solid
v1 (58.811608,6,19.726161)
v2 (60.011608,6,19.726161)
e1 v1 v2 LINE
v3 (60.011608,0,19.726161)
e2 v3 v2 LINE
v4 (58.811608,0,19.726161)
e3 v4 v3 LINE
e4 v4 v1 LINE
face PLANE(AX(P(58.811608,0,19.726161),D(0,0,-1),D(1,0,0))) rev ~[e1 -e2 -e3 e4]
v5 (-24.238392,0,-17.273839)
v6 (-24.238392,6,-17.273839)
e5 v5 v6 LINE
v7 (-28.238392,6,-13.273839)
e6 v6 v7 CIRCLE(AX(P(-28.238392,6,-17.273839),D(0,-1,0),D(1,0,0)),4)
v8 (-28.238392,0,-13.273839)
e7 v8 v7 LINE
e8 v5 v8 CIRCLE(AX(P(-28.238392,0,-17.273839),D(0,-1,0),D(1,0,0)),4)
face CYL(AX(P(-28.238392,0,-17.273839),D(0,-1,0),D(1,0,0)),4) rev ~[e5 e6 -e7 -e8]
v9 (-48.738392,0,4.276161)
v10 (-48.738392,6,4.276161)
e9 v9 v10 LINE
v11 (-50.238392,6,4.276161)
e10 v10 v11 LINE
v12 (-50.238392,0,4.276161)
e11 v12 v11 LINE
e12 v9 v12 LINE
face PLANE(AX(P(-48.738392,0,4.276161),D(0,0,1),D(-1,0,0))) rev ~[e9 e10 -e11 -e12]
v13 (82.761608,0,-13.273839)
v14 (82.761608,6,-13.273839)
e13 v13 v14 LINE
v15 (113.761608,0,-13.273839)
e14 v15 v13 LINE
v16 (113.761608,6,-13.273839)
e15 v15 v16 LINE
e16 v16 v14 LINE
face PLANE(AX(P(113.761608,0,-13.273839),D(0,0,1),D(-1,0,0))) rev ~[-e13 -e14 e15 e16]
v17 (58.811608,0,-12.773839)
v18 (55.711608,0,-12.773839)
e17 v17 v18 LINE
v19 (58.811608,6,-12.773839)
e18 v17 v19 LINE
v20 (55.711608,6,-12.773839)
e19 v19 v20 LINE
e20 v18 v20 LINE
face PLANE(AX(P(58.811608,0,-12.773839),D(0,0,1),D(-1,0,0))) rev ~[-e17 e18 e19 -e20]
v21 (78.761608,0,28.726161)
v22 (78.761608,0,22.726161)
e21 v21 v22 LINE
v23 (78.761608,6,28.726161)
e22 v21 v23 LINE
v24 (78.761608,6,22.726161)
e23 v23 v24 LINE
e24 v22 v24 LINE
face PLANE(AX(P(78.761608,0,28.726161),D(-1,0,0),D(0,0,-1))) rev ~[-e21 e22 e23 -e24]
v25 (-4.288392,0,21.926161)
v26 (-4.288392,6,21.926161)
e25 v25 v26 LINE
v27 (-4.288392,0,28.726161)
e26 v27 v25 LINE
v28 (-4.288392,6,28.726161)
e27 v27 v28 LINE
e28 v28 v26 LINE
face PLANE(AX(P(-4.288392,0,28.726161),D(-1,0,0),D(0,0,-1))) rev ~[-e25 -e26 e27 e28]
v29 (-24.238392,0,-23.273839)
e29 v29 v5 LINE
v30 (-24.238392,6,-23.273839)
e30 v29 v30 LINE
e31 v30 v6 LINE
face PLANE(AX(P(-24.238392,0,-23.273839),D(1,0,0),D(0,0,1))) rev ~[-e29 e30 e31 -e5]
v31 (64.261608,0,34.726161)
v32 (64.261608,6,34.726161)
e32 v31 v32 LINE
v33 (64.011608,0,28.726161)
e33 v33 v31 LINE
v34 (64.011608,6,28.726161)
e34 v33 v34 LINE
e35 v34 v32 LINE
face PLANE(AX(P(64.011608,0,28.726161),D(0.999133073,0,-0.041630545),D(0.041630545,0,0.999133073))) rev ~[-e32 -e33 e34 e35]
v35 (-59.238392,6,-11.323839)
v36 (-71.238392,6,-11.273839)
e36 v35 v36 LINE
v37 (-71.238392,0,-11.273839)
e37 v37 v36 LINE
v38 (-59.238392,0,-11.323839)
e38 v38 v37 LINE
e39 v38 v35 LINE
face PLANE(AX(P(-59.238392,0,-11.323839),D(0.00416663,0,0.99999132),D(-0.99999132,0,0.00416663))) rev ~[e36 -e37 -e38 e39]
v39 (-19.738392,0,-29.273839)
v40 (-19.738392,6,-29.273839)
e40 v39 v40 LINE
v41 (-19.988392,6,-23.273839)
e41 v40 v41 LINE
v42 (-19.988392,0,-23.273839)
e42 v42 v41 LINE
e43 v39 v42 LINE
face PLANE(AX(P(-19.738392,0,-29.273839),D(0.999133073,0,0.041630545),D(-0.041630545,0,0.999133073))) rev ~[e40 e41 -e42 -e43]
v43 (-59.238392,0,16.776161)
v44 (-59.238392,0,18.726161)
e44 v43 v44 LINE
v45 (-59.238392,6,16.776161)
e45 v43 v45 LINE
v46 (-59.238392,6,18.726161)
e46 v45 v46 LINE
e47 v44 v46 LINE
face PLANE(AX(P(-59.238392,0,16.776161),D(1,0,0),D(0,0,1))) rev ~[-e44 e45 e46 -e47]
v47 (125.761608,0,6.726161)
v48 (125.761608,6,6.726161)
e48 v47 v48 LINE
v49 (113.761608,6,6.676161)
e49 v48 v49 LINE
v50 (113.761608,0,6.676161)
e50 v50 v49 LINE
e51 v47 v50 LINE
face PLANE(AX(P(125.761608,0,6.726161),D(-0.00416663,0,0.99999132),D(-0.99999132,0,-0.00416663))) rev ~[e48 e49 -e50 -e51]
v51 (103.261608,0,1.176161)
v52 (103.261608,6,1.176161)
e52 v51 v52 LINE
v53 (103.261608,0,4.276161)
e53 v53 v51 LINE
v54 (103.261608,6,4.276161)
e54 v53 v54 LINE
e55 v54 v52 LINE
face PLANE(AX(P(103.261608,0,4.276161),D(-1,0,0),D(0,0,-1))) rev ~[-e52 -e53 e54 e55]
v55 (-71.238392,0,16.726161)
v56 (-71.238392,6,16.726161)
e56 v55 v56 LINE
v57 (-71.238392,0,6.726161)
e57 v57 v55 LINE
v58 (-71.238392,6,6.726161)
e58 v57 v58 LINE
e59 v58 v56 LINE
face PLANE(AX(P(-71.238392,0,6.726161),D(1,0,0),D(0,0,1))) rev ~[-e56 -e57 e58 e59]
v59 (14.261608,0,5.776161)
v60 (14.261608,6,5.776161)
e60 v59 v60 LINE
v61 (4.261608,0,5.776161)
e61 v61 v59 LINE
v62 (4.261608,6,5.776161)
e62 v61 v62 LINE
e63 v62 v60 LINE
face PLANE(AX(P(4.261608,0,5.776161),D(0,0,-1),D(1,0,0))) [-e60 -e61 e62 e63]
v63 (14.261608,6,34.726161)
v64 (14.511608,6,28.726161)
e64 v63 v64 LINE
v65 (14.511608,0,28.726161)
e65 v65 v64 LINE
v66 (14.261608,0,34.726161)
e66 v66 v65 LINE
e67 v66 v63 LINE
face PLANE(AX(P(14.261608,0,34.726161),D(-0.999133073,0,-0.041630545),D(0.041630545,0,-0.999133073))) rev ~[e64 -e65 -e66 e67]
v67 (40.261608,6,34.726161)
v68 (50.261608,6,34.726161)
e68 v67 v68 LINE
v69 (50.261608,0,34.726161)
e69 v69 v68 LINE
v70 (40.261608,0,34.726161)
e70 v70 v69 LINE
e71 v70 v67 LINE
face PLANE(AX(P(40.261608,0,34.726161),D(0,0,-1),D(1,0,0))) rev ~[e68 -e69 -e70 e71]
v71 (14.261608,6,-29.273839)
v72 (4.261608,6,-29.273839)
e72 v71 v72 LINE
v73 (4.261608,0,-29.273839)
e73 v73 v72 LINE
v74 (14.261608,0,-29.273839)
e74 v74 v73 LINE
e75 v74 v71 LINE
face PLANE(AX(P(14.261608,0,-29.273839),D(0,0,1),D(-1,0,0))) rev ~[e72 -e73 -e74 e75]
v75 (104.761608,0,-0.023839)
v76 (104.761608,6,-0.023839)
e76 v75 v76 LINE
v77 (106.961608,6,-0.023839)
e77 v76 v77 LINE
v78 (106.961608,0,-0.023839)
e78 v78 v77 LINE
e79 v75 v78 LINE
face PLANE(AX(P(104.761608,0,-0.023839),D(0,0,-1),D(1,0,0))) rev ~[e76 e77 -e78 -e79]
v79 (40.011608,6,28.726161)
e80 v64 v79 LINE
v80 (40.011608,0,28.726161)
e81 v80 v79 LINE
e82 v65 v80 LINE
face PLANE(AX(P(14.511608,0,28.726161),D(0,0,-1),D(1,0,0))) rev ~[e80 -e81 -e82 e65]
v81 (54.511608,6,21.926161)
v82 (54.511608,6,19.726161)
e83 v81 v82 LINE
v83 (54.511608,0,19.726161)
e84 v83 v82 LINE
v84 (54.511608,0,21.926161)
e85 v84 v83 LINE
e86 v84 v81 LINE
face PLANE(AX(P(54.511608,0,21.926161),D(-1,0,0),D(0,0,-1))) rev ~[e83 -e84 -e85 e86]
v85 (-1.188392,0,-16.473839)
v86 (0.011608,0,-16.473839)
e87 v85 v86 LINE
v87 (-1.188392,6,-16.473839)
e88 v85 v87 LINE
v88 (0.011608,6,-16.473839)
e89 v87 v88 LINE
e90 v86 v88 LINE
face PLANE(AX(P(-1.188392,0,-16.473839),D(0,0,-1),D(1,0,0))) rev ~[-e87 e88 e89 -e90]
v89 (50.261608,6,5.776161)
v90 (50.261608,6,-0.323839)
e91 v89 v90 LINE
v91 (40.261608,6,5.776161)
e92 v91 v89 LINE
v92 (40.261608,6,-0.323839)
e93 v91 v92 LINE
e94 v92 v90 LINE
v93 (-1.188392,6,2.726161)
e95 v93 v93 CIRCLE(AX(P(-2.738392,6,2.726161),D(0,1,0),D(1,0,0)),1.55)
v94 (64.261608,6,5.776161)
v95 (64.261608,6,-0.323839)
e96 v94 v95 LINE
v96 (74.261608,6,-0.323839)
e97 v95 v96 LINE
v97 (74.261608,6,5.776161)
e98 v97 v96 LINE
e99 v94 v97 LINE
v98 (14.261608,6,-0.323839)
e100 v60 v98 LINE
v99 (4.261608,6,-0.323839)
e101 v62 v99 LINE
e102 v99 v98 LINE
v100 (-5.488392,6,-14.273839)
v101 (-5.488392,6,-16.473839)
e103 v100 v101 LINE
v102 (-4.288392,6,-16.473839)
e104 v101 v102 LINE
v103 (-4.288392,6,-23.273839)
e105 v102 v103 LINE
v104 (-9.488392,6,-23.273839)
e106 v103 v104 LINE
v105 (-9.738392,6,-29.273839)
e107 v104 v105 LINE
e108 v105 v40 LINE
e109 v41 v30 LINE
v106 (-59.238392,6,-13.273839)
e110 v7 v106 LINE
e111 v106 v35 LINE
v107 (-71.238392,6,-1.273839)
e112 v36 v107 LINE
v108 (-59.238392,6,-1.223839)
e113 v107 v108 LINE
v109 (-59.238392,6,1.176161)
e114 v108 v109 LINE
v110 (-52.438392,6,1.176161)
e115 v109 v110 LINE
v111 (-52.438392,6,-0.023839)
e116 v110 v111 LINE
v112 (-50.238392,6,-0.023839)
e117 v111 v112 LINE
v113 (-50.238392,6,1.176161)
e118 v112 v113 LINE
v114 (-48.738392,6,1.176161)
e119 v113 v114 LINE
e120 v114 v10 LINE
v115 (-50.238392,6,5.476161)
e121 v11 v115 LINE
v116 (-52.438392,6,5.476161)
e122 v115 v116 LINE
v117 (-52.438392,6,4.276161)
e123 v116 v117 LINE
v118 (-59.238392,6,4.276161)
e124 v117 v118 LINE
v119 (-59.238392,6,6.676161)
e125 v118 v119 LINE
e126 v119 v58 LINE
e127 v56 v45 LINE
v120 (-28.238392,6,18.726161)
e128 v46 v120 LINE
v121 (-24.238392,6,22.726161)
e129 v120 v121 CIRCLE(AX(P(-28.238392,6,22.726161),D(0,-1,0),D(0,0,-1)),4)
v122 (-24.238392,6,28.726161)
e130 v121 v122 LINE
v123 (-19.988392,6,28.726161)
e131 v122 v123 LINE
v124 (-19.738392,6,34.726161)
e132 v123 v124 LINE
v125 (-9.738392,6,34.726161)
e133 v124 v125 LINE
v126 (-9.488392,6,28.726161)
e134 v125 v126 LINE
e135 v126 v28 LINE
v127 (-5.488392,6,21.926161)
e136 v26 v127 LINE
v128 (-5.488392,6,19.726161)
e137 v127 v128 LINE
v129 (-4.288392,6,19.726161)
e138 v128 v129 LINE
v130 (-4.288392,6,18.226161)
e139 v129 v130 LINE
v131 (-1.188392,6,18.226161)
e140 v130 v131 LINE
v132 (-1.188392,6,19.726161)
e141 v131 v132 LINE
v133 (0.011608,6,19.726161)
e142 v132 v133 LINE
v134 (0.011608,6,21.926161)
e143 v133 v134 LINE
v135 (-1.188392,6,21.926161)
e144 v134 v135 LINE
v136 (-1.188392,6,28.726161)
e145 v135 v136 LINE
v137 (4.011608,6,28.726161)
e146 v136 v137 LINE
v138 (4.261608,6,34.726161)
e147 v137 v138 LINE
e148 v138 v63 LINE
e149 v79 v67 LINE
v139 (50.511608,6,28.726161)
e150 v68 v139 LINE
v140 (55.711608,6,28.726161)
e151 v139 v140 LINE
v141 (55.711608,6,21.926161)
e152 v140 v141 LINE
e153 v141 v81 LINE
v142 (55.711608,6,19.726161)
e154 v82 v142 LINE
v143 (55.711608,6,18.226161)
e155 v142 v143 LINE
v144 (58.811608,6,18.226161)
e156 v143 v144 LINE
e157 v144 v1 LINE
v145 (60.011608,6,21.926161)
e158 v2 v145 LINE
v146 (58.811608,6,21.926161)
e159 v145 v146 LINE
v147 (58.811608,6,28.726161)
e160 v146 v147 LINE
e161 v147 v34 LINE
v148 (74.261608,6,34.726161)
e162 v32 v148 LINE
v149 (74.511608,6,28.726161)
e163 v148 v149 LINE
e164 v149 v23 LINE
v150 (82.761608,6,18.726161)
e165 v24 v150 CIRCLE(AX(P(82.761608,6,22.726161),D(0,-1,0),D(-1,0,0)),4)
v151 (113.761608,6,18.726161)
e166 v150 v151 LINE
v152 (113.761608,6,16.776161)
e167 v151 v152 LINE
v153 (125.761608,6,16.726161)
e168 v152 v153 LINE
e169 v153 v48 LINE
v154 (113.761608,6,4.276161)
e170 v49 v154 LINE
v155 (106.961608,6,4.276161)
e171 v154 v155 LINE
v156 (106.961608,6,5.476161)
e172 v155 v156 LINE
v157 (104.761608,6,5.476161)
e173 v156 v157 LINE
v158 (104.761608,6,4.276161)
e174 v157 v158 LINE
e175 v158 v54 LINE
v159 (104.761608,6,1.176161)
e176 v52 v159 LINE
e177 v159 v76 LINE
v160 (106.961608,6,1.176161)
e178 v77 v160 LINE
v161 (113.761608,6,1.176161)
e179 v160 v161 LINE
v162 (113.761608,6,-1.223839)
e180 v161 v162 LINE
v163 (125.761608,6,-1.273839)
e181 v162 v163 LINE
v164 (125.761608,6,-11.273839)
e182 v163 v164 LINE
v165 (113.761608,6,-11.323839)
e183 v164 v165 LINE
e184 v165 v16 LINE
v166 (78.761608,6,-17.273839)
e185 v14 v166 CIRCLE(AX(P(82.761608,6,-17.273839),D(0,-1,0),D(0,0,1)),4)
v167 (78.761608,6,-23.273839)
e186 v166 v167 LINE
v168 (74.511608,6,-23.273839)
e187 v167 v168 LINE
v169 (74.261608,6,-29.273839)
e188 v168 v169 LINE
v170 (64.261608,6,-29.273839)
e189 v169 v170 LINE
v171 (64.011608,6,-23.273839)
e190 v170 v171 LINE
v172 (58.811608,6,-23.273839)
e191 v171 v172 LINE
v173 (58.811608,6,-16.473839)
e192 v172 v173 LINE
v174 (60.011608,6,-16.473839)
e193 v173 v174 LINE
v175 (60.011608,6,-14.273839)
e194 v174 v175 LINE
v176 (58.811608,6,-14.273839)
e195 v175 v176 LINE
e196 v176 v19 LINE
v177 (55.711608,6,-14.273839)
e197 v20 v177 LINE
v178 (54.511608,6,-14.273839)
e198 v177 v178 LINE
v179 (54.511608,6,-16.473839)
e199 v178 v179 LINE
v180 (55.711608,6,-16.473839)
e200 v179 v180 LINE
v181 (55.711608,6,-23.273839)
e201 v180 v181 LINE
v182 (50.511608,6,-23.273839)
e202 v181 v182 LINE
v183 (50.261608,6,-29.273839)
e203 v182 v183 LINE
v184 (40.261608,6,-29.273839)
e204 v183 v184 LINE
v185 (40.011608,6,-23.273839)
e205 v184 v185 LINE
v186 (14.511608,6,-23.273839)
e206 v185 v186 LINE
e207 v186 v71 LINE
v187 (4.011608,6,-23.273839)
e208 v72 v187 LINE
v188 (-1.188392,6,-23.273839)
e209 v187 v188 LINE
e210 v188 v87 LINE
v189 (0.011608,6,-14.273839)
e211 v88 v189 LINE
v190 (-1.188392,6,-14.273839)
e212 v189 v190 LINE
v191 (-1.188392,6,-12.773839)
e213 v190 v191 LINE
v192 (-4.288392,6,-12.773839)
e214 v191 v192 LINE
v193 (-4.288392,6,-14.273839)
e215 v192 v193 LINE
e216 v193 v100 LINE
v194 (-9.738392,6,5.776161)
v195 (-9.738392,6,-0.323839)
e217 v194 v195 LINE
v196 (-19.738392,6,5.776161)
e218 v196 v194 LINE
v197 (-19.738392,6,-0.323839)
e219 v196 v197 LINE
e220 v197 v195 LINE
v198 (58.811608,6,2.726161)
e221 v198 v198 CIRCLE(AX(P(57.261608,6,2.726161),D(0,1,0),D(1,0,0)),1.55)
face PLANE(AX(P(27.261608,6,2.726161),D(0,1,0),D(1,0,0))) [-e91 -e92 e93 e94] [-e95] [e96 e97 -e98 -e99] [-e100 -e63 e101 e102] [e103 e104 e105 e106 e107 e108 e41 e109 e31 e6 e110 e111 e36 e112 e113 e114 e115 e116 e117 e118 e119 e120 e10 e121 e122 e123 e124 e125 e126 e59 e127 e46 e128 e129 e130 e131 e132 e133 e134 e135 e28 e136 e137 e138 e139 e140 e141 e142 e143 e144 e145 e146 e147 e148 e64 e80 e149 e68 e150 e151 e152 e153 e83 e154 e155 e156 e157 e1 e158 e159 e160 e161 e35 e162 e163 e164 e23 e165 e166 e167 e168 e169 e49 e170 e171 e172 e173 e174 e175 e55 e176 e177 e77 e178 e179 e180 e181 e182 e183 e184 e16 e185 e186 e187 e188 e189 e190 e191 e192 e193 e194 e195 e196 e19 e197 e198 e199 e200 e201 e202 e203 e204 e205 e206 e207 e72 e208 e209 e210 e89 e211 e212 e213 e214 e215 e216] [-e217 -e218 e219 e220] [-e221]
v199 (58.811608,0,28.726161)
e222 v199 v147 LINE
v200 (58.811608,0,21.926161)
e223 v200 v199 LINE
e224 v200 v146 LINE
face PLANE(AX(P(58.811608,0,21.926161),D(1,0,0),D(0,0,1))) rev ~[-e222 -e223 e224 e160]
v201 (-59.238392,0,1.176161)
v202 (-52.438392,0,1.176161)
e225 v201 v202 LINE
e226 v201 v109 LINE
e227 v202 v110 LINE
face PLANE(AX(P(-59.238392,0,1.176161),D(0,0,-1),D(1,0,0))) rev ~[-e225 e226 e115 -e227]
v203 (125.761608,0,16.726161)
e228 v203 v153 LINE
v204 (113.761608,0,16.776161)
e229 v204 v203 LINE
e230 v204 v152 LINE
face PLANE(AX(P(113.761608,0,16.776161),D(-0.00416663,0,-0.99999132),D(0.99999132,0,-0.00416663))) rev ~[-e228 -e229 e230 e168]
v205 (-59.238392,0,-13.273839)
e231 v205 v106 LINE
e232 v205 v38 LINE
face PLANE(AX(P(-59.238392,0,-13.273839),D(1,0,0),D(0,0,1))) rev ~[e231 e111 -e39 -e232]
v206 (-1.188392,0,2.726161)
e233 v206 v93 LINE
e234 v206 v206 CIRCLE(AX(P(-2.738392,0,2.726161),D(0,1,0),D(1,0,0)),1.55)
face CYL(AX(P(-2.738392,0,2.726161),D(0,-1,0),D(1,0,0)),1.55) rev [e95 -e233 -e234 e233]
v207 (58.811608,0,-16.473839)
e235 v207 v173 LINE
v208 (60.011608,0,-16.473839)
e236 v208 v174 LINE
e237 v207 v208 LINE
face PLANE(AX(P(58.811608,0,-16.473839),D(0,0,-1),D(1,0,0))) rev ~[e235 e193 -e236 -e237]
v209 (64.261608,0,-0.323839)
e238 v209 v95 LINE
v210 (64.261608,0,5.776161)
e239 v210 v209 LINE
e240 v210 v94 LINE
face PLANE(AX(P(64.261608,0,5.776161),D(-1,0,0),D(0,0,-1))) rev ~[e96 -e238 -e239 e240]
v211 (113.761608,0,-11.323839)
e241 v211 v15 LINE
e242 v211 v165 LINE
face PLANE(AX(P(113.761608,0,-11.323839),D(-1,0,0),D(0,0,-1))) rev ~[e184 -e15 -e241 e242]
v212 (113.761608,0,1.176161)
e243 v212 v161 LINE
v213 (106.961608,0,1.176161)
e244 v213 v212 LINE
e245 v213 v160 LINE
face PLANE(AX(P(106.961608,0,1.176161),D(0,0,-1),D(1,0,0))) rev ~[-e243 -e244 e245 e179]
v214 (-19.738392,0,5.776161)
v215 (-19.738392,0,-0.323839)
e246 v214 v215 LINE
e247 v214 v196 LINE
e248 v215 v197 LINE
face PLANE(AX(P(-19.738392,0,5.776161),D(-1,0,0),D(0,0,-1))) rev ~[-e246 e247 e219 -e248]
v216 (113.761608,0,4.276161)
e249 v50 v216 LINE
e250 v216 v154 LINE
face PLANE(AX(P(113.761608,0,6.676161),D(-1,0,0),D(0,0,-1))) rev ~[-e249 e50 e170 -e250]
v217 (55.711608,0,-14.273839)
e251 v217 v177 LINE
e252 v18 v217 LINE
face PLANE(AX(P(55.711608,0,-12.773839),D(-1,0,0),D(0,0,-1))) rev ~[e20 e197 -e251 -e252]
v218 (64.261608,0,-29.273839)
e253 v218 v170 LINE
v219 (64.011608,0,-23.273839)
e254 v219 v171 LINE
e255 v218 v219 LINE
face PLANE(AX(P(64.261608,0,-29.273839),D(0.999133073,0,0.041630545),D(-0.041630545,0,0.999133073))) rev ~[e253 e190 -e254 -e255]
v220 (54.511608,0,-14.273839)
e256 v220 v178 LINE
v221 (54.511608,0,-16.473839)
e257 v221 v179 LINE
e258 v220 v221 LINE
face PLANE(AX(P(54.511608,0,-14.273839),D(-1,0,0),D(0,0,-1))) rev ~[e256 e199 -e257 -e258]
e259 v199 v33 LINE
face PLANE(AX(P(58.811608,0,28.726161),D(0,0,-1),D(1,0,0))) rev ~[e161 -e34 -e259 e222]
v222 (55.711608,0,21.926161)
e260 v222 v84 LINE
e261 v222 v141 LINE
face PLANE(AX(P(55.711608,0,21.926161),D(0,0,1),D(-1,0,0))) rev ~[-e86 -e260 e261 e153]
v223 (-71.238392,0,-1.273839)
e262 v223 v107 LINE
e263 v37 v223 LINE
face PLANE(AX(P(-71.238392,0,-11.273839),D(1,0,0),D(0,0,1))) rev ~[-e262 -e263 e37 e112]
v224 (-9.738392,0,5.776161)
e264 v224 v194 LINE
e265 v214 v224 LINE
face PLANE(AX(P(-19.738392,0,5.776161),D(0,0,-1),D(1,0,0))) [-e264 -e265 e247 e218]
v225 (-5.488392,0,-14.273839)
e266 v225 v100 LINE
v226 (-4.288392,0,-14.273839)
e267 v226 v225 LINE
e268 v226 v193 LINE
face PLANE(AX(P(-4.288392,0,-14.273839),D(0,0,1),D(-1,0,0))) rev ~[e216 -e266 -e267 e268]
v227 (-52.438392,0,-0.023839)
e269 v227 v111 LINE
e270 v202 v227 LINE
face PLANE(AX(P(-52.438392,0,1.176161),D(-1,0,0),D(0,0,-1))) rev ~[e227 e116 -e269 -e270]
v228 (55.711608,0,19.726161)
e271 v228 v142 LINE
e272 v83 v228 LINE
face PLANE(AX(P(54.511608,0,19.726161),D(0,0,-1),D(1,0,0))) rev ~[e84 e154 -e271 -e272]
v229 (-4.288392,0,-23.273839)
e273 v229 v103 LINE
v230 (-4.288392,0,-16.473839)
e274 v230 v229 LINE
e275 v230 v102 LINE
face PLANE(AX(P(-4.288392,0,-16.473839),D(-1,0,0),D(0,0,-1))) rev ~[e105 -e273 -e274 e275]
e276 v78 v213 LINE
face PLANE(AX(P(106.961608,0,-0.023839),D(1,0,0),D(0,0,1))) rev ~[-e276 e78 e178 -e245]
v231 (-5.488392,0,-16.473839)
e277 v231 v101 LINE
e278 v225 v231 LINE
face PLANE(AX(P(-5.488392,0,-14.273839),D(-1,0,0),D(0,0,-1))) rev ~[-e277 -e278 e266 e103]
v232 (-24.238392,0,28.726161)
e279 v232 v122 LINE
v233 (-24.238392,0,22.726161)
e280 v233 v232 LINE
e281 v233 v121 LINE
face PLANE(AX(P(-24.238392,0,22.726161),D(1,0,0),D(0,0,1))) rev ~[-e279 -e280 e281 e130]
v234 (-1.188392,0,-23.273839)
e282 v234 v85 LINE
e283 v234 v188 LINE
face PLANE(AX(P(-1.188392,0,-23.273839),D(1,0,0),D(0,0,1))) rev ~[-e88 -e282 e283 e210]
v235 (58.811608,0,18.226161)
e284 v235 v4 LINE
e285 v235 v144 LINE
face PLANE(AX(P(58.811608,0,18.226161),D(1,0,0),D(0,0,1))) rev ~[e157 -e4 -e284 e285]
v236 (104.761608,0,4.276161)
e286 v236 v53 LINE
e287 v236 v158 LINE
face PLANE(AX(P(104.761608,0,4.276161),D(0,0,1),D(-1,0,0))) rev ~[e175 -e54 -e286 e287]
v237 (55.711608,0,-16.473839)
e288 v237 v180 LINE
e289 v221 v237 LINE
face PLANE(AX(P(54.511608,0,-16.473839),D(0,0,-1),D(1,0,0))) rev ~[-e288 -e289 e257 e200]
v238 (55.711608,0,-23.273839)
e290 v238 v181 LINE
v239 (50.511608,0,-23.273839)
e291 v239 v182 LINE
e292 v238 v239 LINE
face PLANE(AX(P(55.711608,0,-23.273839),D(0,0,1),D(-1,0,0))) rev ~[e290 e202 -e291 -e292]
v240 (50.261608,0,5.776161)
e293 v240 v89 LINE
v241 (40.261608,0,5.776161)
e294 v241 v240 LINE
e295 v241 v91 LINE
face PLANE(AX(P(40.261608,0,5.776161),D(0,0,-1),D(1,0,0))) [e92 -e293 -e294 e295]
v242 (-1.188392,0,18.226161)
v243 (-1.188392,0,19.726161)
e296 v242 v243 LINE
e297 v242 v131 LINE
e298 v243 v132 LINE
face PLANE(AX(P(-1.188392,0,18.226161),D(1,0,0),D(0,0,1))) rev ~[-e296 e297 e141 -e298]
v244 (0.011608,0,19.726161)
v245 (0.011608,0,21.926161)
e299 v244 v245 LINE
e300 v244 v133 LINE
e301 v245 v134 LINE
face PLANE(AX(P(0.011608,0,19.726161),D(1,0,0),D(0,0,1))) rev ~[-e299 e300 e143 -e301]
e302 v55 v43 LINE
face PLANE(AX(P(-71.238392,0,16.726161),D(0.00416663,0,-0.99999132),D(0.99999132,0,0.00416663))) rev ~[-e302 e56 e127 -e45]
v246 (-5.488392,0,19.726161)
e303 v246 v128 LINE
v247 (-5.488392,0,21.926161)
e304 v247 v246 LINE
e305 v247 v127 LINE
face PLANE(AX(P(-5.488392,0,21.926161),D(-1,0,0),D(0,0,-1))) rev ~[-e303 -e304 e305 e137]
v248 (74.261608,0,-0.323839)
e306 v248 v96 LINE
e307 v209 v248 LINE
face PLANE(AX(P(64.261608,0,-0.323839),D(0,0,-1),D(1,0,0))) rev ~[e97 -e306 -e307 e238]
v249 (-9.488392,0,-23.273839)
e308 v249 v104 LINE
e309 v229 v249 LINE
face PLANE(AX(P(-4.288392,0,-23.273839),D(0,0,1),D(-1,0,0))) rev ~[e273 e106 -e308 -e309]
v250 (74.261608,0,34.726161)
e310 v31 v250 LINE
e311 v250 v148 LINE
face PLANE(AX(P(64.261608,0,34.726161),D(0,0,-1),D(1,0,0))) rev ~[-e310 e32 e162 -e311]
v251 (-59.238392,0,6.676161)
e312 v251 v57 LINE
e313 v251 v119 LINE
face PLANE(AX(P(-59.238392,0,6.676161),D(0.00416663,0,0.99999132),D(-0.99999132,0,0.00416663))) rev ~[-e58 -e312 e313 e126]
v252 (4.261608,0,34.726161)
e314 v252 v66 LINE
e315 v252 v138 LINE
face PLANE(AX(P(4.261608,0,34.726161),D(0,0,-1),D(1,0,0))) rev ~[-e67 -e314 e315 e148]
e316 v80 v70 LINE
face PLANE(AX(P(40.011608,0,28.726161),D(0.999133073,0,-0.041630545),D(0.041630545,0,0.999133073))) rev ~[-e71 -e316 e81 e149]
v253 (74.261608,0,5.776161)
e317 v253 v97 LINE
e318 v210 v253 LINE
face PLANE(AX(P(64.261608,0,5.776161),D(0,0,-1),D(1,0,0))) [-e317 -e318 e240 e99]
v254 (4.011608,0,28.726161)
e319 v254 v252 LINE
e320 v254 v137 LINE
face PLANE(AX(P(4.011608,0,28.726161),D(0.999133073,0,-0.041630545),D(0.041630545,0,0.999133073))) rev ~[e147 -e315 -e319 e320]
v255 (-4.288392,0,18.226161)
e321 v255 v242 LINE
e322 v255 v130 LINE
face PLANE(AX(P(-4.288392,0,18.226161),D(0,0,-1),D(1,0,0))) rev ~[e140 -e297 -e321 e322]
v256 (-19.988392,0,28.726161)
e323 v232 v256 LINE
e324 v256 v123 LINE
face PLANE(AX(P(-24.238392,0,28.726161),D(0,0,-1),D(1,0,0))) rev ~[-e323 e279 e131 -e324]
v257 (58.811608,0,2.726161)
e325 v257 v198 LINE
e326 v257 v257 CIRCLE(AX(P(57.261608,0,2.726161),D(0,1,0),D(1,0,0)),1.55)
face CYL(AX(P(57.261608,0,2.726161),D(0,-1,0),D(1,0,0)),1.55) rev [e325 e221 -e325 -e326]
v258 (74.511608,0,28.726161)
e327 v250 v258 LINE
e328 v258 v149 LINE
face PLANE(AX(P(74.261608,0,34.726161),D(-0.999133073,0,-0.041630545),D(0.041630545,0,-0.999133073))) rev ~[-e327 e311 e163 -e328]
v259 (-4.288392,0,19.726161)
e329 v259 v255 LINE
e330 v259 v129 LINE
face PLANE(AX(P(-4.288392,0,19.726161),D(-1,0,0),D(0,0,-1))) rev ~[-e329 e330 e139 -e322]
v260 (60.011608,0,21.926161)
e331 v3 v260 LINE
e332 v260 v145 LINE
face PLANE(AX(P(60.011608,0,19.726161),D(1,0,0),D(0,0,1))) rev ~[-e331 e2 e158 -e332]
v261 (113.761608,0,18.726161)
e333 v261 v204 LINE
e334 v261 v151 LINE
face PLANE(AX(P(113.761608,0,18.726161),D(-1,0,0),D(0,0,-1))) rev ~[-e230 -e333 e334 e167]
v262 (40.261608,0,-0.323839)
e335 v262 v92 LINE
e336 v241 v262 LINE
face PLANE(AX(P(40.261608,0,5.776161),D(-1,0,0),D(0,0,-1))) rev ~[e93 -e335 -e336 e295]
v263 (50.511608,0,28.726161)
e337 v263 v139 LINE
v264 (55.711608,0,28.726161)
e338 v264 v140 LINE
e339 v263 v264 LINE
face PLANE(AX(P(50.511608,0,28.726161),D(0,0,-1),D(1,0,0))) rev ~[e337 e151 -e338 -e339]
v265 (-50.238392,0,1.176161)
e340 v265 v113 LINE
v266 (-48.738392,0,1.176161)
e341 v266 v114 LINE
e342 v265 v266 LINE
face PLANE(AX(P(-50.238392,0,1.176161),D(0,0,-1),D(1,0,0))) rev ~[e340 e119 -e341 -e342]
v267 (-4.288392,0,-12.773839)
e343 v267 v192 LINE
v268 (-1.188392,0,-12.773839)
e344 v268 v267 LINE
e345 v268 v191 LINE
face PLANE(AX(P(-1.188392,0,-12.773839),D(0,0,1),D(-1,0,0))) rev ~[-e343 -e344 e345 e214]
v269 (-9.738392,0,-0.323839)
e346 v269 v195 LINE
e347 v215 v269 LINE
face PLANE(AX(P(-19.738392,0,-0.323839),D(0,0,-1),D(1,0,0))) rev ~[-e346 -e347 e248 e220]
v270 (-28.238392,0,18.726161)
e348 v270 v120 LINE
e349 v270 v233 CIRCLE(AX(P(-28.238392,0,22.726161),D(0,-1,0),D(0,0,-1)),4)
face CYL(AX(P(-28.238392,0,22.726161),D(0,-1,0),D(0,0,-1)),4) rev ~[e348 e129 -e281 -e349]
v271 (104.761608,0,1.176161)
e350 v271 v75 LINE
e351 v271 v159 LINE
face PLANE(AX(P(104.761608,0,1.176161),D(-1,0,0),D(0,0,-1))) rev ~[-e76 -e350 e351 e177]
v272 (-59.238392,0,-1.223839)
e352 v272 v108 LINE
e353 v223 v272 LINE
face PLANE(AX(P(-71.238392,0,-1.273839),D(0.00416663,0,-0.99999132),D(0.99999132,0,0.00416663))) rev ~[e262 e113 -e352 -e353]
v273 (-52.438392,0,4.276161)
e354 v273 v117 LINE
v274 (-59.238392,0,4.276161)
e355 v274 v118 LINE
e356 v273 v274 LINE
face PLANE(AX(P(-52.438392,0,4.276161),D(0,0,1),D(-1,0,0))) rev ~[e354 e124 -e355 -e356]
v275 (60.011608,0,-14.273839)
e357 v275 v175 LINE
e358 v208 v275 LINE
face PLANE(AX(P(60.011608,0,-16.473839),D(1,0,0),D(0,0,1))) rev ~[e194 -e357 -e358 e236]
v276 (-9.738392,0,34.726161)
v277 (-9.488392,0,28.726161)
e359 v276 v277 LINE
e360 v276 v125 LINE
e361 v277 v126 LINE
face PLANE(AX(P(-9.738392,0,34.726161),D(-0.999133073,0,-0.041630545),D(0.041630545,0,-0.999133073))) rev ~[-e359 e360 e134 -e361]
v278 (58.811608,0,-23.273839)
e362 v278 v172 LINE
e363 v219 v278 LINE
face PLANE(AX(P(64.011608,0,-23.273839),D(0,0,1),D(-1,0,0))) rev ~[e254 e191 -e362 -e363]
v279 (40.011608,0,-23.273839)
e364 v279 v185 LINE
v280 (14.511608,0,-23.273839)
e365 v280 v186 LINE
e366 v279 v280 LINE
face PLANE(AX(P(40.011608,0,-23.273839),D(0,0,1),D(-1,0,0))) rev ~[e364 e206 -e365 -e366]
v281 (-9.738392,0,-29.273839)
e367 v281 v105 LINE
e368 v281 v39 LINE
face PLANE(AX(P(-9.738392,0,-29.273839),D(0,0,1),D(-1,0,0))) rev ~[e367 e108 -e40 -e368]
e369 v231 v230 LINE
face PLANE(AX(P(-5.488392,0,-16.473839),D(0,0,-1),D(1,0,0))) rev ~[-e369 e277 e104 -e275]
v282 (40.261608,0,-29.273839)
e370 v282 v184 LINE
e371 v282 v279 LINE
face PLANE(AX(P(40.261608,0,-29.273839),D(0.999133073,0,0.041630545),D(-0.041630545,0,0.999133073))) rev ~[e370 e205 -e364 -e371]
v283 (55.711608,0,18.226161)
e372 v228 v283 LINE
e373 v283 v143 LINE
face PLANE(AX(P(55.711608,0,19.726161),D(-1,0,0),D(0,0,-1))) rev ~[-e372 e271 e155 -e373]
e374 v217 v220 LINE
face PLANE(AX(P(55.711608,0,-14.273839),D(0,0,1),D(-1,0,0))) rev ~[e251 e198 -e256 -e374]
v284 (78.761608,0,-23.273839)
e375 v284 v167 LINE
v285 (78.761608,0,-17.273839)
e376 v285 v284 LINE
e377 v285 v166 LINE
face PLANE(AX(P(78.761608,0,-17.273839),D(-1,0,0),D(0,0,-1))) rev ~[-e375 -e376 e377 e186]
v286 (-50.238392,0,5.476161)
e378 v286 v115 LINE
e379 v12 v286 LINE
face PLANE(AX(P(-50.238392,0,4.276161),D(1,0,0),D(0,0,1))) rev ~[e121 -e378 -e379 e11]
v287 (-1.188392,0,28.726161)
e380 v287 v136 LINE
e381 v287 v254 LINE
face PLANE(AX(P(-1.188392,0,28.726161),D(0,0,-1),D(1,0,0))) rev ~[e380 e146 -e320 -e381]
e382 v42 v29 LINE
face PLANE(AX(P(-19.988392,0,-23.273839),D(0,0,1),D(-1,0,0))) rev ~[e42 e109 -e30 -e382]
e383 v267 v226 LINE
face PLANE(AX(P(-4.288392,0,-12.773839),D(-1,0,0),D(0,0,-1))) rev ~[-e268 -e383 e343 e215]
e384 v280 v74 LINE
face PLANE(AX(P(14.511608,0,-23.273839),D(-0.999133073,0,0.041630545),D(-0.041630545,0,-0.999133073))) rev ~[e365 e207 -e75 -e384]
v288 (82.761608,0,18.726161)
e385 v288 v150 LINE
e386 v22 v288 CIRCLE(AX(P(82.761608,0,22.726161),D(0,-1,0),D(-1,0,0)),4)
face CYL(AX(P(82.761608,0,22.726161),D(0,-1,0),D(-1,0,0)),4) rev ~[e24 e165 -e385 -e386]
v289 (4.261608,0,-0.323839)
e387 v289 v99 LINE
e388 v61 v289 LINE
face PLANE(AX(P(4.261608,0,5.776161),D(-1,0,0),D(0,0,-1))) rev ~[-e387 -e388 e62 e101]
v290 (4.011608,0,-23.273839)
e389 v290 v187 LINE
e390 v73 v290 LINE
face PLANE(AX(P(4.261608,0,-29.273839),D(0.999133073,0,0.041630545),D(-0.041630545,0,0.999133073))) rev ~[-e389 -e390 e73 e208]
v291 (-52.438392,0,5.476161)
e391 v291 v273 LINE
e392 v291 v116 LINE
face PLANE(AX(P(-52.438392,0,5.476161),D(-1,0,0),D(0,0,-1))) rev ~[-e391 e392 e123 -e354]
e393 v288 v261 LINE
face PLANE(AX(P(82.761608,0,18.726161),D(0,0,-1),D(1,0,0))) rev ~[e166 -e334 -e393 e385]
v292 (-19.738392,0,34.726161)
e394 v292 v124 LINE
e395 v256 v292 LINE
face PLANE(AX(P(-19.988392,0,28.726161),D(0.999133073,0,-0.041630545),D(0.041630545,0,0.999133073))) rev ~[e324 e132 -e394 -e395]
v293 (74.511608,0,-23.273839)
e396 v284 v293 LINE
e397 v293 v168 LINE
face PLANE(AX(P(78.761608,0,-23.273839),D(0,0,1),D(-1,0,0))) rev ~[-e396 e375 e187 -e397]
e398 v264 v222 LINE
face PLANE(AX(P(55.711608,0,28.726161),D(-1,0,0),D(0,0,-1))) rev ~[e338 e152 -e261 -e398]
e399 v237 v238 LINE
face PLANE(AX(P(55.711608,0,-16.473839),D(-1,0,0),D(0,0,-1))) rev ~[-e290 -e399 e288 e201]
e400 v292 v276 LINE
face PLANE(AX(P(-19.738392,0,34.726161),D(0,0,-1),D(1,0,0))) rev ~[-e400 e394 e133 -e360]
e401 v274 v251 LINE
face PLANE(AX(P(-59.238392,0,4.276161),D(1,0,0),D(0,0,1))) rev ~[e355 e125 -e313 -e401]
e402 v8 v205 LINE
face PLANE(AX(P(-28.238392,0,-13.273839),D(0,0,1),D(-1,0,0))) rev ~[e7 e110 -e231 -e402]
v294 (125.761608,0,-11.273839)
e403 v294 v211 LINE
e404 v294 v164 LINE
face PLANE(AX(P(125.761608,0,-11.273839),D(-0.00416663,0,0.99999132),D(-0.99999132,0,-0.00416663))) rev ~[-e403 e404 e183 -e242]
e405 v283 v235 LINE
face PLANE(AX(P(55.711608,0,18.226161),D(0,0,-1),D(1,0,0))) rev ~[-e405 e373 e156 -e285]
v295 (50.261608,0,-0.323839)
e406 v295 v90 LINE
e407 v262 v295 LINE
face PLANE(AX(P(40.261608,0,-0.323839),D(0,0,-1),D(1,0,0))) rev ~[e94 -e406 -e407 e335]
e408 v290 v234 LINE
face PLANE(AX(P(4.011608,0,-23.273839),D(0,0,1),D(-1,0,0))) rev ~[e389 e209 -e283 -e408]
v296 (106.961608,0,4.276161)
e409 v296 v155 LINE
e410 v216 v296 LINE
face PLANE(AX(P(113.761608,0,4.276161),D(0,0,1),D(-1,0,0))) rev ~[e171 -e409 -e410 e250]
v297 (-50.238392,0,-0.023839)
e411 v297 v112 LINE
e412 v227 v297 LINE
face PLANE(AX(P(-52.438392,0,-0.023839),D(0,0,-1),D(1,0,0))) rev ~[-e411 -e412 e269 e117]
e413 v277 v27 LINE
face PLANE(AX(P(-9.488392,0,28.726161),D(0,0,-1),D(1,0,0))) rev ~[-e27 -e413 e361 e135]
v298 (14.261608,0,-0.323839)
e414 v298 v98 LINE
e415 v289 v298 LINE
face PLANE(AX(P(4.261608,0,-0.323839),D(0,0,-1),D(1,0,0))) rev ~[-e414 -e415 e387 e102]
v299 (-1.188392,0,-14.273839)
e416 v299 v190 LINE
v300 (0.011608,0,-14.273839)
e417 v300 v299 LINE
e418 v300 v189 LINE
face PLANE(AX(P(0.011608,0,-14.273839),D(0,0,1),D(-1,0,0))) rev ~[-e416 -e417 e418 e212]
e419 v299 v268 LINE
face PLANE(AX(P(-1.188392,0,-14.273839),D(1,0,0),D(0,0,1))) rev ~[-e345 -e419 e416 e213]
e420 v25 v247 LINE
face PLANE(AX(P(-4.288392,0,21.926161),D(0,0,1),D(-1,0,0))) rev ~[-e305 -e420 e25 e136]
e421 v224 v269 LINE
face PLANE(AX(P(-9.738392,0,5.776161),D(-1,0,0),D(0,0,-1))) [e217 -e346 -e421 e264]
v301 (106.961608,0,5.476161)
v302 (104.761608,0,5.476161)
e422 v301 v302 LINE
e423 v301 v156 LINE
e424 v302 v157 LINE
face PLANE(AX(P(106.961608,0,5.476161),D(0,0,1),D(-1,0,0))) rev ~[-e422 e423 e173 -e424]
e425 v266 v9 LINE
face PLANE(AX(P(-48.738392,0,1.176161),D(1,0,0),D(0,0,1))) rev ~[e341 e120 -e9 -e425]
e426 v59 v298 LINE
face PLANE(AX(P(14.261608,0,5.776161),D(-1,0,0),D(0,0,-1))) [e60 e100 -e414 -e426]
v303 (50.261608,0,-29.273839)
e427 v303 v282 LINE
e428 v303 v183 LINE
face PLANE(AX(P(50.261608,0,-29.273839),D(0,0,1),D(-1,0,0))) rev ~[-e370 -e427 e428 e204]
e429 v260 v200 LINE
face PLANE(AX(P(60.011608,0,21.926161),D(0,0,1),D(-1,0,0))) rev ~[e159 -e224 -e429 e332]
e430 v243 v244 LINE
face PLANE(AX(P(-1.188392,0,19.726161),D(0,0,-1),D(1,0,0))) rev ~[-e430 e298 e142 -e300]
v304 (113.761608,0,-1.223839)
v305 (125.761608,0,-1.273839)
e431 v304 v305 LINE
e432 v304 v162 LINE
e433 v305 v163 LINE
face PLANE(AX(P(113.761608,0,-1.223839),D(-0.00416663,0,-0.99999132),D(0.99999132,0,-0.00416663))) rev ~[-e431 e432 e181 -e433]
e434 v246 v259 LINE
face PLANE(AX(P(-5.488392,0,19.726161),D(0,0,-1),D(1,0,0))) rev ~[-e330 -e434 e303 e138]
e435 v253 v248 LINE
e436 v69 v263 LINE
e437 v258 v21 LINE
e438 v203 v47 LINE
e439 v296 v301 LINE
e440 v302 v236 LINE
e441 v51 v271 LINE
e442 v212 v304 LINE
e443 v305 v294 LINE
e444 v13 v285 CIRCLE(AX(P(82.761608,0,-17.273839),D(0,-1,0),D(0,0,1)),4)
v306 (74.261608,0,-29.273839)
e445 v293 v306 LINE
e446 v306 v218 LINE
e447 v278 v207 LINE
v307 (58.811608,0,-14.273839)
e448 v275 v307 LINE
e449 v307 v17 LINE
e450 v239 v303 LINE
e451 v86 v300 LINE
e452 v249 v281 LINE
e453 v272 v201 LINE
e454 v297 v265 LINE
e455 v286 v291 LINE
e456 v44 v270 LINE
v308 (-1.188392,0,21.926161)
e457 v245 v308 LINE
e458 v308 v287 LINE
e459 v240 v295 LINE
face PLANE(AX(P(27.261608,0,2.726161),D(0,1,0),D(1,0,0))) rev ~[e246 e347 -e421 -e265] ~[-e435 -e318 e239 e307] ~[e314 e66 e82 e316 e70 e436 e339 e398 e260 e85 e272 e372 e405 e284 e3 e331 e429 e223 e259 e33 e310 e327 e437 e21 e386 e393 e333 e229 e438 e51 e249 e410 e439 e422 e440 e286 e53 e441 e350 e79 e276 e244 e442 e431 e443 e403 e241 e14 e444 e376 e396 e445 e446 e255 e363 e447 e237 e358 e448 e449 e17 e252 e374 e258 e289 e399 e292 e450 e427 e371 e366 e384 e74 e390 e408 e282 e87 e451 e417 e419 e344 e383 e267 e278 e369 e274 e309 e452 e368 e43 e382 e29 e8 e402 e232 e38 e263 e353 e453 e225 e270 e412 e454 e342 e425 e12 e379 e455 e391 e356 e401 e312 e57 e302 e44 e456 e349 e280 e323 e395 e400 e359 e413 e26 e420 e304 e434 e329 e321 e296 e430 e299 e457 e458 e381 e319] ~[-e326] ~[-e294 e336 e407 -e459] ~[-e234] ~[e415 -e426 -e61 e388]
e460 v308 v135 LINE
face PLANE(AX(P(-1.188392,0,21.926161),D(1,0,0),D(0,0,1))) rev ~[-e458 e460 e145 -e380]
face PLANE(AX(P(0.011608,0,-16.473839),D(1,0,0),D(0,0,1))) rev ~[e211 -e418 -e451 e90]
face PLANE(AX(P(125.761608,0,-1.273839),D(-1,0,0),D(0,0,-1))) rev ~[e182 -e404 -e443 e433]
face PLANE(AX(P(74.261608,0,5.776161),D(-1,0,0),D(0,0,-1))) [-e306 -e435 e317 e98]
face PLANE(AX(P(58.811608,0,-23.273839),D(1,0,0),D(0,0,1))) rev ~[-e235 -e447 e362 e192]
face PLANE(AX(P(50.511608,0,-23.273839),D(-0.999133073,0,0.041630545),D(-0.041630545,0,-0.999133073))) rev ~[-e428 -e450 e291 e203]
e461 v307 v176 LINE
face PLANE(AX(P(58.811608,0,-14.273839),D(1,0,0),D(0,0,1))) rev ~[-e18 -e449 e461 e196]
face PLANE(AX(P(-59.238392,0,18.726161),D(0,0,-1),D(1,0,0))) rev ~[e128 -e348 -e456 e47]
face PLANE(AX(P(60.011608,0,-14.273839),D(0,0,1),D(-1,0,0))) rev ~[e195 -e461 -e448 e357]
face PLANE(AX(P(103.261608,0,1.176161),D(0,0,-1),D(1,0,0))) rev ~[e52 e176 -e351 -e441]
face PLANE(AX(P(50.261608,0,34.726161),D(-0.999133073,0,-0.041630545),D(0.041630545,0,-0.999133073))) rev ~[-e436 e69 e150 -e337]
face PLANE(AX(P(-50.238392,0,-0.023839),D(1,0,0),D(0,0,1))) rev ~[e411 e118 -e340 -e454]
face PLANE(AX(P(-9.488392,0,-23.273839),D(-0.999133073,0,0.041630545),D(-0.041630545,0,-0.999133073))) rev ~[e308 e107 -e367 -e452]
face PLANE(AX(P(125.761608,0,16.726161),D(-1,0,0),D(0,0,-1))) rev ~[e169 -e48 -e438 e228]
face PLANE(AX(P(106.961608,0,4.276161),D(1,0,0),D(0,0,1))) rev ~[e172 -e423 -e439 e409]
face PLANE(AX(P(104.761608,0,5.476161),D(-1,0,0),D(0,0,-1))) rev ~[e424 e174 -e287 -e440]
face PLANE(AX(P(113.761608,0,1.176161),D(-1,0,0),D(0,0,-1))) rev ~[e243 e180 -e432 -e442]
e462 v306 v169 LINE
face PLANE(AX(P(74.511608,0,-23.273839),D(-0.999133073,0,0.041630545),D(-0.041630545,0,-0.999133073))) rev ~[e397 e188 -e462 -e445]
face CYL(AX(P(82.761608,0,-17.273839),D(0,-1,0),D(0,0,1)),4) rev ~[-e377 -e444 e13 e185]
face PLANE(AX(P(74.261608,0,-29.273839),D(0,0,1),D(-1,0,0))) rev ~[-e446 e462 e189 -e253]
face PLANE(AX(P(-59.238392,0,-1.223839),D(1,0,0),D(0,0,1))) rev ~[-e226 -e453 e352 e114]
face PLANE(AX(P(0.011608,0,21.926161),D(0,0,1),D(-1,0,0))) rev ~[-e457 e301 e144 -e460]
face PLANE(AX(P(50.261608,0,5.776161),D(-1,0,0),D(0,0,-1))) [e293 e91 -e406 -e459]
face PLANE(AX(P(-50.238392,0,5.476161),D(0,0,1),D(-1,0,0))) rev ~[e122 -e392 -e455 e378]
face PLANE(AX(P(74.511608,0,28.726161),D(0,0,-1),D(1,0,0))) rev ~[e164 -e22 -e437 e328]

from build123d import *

# Parameters (mm, degrees)
SKETCH_1_R      = 1.55
SKETCH_1_W      = 10
SKETCH_1_H      = 6.1
EXTRUDE_1_DEPTH = 6


with BuildPart() as part:
    # Эскиз1 → Бобышка-Вытянуть1 (new body)
    with BuildSketch(Plane(origin=(0, 0, 0), x_dir=(1, 0, 0), z_dir=(0, 1, 0))):
        with BuildLine():
            Line((40.261608154, 29.273839185), (40.011608154, 23.273839185))
            Line((40.011608154, 23.273839185), (14.511608154, 23.273839185))
            Line((14.511608154, 23.273839185), (14.261608154, 29.273839185))
            Line((14.261608154, 29.273839185), (4.261608154, 29.273839185))
            Line((4.261608154, 29.273839185), (4.011608154, 23.273839185))
            Line((4.011608154, 23.273839185), (-1.188391846, 23.273839185))
            Line((-1.188391846, 23.273839185), (-1.188391846, 16.473839185))
            Line((-1.188391846, 16.473839185), (0.011608154, 16.473839185))
            Line((0.011608154, 16.473839185), (0.011608154, 14.273839185))
            Line((0.011608154, 14.273839185), (-1.188391846, 14.273839185))
            Line((-1.188391846, 14.273839185), (-1.188391846, 12.773839185))
            Line((-1.188391846, 12.773839185), (-4.288391846, 12.773839185))
            Line((-4.288391846, 12.773839185), (-4.288391846, 14.273839185))
            Line((-4.288391846, 14.273839185), (-5.488391846, 14.273839185))
            Line((-5.488391846, 14.273839185), (-5.488391846, 16.473839185))
            Line((-5.488391846, 16.473839185), (-4.288391846, 16.473839185))
            Line((-4.288391846, 16.473839185), (-4.288391846, 23.273839185))
            Line((-4.288391846, 23.273839185), (-9.488391846, 23.273839185))
            Line((-9.488391846, 23.273839185), (-9.738391846, 29.273839185))
            Line((-9.738391846, 29.273839185), (-19.738391846, 29.273839185))
            Line((-19.738391846, 29.273839185), (-19.988391846, 23.273839185))
            Line((-19.988391846, 23.273839185), (-24.238391846, 23.273839185))
            Line((-24.238391846, 23.273839185), (-24.238391846, 17.273839185))
            ThreePointArc((-24.238391846, 17.273839185), (-25.409964721, 14.44541206), (-28.238391846, 13.273839185))
            Line((-28.238391846, 13.273839185), (-59.238391846, 13.273839185))
            Line((-59.238391846, 13.273839185), (-59.238391846, 11.323839185))
            Line((-59.238391846, 11.323839185), (-71.238391846, 11.273839185))
            Line((-71.238391846, 11.273839185), (-71.238391846, 1.273839185))
            Line((-71.238391846, 1.273839185), (-59.238391846, 1.223839185))
            Line((-59.238391846, 1.223839185), (-59.238391846, -1.176160815))
            Line((-59.238391846, -1.176160815), (-52.438391846, -1.176160815))
            Line((-52.438391846, -1.176160815), (-52.438391846, 0.023839185))
            Line((-52.438391846, 0.023839185), (-50.238391846, 0.023839185))
            Line((-50.238391846, 0.023839185), (-50.238391846, -1.176160815))
            Line((-50.238391846, -1.176160815), (-48.738391846, -1.176160815))
            Line((-48.738391846, -1.176160815), (-48.738391846, -4.276160815))
            Line((-48.738391846, -4.276160815), (-50.238391846, -4.276160815))
            Line((-50.238391846, -4.276160815), (-50.238391846, -5.476160815))
            Line((-50.238391846, -5.476160815), (-52.438391846, -5.476160815))
            Line((-52.438391846, -5.476160815), (-52.438391846, -4.276160815))
            Line((-52.438391846, -4.276160815), (-59.238391846, -4.276160815))
            Line((-59.238391846, -4.276160815), (-59.238391846, -6.676160815))
            Line((-59.238391846, -6.676160815), (-71.238391846, -6.726160815))
            Line((-71.238391846, -6.726160815), (-71.238391846, -16.726160815))
            Line((-71.238391846, -16.726160815), (-59.238391846, -16.776160815))
            Line((-59.238391846, -16.776160815), (-59.238391846, -18.726160815))
            Line((-59.238391846, -18.726160815), (-28.238391846, -18.726160815))
            ThreePointArc((-28.238391846, -18.726160815), (-25.409964721, -19.897733691), (-24.238391846, -22.726160815))
            Line((-24.238391846, -22.726160815), (-24.238391846, -28.726160815))
            Line((-24.238391846, -28.726160815), (-19.988391846, -28.726160815))
            Line((-19.988391846, -28.726160815), (-19.738391846, -34.726160815))
            Line((-19.738391846, -34.726160815), (-9.738391846, -34.726160815))
            Line((-9.738391846, -34.726160815), (-9.488391846, -28.726160815))
            Line((-9.488391846, -28.726160815), (-4.288391846, -28.726160815))
            Line((-4.288391846, -28.726160815), (-4.288391846, -21.926160815))
            Line((-4.288391846, -21.926160815), (-5.488391846, -21.926160815))
            Line((-5.488391846, -21.926160815), (-5.488391846, -19.726160815))
            Line((-5.488391846, -19.726160815), (-4.288391846, -19.726160815))
            Line((-4.288391846, -19.726160815), (-4.288391846, -18.226160815))
            Line((-4.288391846, -18.226160815), (-1.188391846, -18.226160815))
            Line((-1.188391846, -18.226160815), (-1.188391846, -19.726160815))
            Line((-1.188391846, -19.726160815), (0.011608154, -19.726160815))
            Line((0.011608154, -19.726160815), (0.011608154, -21.926160815))
            Line((0.011608154, -21.926160815), (-1.188391846, -21.926160815))
            Line((-1.188391846, -21.926160815), (-1.188391846, -28.726160815))
            Line((-1.188391846, -28.726160815), (4.011608154, -28.726160815))
            Line((4.011608154, -28.726160815), (4.261608154, -34.726160815))
            Line((4.261608154, -34.726160815), (14.261608154, -34.726160815))
            Line((14.261608154, -34.726160815), (14.511608154, -28.726160815))
            Line((14.511608154, -28.726160815), (40.011608154, -28.726160815))
            Line((40.011608154, -28.726160815), (40.261608154, -34.726160815))
            Line((40.261608154, -34.726160815), (50.261608154, -34.726160815))
            Line((50.261608154, -34.726160815), (50.511608154, -28.726160815))
            Line((50.511608154, -28.726160815), (55.711608154, -28.726160815))
            Line((55.711608154, -28.726160815), (55.711608154, -21.926160815))
            Line((55.711608154, -21.926160815), (54.511608154, -21.926160815))
            Line((54.511608154, -21.926160815), (54.511608154, -19.726160815))
            Line((54.511608154, -19.726160815), (55.711608154, -19.726160815))
            Line((55.711608154, -19.726160815), (55.711608154, -18.226160815))
            Line((55.711608154, -18.226160815), (58.811608154, -18.226160815))
            Line((58.811608154, -18.226160815), (58.811608154, -19.726160815))
            Line((58.811608154, -19.726160815), (60.011608154, -19.726160815))
            Line((60.011608154, -19.726160815), (60.011608154, -21.926160815))
            Line((60.011608154, -21.926160815), (58.811608154, -21.926160815))
            Line((58.811608154, -21.926160815), (58.811608154, -28.726160815))
            Line((58.811608154, -28.726160815), (64.011608154, -28.726160815))
            Line((64.011608154, -28.726160815), (64.261608154, -34.726160815))
            Line((64.261608154, -34.726160815), (74.261608154, -34.726160815))
            Line((74.261608154, -34.726160815), (74.511608154, -28.726160815))
            Line((74.511608154, -28.726160815), (78.761608154, -28.726160815))
            Line((78.761608154, -28.726160815), (78.761608154, -22.726160815))
            ThreePointArc((78.761608154, -22.726160815), (79.933181029, -19.897733691), (82.761608154, -18.726160815))
            Line((82.761608154, -18.726160815), (113.761608154, -18.726160815))
            Line((113.761608154, -18.726160815), (113.761608154, -16.776160815))
            Line((113.761608154, -16.776160815), (125.761608154, -16.726160815))
            Line((125.761608154, -16.726160815), (125.761608154, -6.726160815))
            Line((125.761608154, -6.726160815), (113.761608154, -6.676160815))
            Line((113.761608154, -6.676160815), (113.761608154, -4.276160815))
            Line((113.761608154, -4.276160815), (106.961608154, -4.276160815))
            Line((106.961608154, -4.276160815), (106.961608154, -5.476160815))
            Line((106.961608154, -5.476160815), (104.761608154, -5.476160815))
            Line((104.761608154, -5.476160815), (104.761608154, -4.276160815))
            Line((104.761608154, -4.276160815), (103.261608154, -4.276160815))
            Line((103.261608154, -4.276160815), (103.261608154, -1.176160815))
            Line((103.261608154, -1.176160815), (104.761608154, -1.176160815))
            Line((104.761608154, -1.176160815), (104.761608154, 0.023839185))
            Line((104.761608154, 0.023839185), (106.961608154, 0.023839185))
            Line((106.961608154, 0.023839185), (106.961608154, -1.176160815))
            Line((106.961608154, -1.176160815), (113.761608154, -1.176160815))
            Line((113.761608154, -1.176160815), (113.761608154, 1.223839185))
            Line((113.761608154, 1.223839185), (125.761608154, 1.273839185))
            Line((125.761608154, 1.273839185), (125.761608154, 11.273839185))
            Line((125.761608154, 11.273839185), (113.761608154, 11.323839185))
            Line((113.761608154, 11.323839185), (113.761608154, 13.273839185))
            Line((113.761608154, 13.273839185), (82.761608154, 13.273839185))
            ThreePointArc((82.761608154, 13.273839185), (79.933181029, 14.44541206), (78.761608154, 17.273839185))
            Line((78.761608154, 17.273839185), (78.761608154, 23.273839185))
            Line((78.761608154, 23.273839185), (74.511608154, 23.273839185))
            Line((74.511608154, 23.273839185), (74.261608154, 29.273839185))
            Line((74.261608154, 29.273839185), (64.261608154, 29.273839185))
            Line((64.261608154, 29.273839185), (64.011608154, 23.273839185))
            Line((64.011608154, 23.273839185), (58.811608154, 23.273839185))
            Line((58.811608154, 23.273839185), (58.811608154, 16.473839185))
            Line((58.811608154, 16.473839185), (60.011608154, 16.473839185))
            Line((60.011608154, 16.473839185), (60.011608154, 14.273839185))
            Line((60.011608154, 14.273839185), (58.811608154, 14.273839185))
            Line((58.811608154, 14.273839185), (58.811608154, 12.773839185))
            Line((58.811608154, 12.773839185), (55.711608154, 12.773839185))
            Line((55.711608154, 12.773839185), (55.711608154, 14.273839185))
            Line((55.711608154, 14.273839185), (54.511608154, 14.273839185))
            Line((54.511608154, 14.273839185), (54.511608154, 16.473839185))
            Line((54.511608154, 16.473839185), (55.711608154, 16.473839185))
            Line((55.711608154, 16.473839185), (55.711608154, 23.273839185))
            Line((55.711608154, 23.273839185), (50.511608154, 23.273839185))
            Line((50.511608154, 23.273839185), (50.261608154, 29.273839185))
            Line((50.261608154, 29.273839185), (40.261608154, 29.273839185))
        make_face()
        with Locations((-2.738391846, -2.726160815)):
            Circle(SKETCH_1_R, mode=Mode.SUBTRACT)
        with Locations((57.261608154, -2.726160815)):
            Circle(SKETCH_1_R, mode=Mode.SUBTRACT)
        with Locations((9.261608154, -2.726160815)):
            Rectangle(SKETCH_1_W, SKETCH_1_H, mode=Mode.SUBTRACT)
        with Locations((-14.738391846, -2.726160815)):
            Rectangle(SKETCH_1_W, SKETCH_1_H, mode=Mode.SUBTRACT)
        with Locations((45.261608154, -2.726160815)):
            Rectangle(SKETCH_1_W, SKETCH_1_H, mode=Mode.SUBTRACT)
        with Locations((69.261608154, -2.726160815)):
            Rectangle(SKETCH_1_W, SKETCH_1_H, mode=Mode.SUBTRACT)
    extrude(amount=EXTRUDE_1_DEPTH)


solid = part.part
